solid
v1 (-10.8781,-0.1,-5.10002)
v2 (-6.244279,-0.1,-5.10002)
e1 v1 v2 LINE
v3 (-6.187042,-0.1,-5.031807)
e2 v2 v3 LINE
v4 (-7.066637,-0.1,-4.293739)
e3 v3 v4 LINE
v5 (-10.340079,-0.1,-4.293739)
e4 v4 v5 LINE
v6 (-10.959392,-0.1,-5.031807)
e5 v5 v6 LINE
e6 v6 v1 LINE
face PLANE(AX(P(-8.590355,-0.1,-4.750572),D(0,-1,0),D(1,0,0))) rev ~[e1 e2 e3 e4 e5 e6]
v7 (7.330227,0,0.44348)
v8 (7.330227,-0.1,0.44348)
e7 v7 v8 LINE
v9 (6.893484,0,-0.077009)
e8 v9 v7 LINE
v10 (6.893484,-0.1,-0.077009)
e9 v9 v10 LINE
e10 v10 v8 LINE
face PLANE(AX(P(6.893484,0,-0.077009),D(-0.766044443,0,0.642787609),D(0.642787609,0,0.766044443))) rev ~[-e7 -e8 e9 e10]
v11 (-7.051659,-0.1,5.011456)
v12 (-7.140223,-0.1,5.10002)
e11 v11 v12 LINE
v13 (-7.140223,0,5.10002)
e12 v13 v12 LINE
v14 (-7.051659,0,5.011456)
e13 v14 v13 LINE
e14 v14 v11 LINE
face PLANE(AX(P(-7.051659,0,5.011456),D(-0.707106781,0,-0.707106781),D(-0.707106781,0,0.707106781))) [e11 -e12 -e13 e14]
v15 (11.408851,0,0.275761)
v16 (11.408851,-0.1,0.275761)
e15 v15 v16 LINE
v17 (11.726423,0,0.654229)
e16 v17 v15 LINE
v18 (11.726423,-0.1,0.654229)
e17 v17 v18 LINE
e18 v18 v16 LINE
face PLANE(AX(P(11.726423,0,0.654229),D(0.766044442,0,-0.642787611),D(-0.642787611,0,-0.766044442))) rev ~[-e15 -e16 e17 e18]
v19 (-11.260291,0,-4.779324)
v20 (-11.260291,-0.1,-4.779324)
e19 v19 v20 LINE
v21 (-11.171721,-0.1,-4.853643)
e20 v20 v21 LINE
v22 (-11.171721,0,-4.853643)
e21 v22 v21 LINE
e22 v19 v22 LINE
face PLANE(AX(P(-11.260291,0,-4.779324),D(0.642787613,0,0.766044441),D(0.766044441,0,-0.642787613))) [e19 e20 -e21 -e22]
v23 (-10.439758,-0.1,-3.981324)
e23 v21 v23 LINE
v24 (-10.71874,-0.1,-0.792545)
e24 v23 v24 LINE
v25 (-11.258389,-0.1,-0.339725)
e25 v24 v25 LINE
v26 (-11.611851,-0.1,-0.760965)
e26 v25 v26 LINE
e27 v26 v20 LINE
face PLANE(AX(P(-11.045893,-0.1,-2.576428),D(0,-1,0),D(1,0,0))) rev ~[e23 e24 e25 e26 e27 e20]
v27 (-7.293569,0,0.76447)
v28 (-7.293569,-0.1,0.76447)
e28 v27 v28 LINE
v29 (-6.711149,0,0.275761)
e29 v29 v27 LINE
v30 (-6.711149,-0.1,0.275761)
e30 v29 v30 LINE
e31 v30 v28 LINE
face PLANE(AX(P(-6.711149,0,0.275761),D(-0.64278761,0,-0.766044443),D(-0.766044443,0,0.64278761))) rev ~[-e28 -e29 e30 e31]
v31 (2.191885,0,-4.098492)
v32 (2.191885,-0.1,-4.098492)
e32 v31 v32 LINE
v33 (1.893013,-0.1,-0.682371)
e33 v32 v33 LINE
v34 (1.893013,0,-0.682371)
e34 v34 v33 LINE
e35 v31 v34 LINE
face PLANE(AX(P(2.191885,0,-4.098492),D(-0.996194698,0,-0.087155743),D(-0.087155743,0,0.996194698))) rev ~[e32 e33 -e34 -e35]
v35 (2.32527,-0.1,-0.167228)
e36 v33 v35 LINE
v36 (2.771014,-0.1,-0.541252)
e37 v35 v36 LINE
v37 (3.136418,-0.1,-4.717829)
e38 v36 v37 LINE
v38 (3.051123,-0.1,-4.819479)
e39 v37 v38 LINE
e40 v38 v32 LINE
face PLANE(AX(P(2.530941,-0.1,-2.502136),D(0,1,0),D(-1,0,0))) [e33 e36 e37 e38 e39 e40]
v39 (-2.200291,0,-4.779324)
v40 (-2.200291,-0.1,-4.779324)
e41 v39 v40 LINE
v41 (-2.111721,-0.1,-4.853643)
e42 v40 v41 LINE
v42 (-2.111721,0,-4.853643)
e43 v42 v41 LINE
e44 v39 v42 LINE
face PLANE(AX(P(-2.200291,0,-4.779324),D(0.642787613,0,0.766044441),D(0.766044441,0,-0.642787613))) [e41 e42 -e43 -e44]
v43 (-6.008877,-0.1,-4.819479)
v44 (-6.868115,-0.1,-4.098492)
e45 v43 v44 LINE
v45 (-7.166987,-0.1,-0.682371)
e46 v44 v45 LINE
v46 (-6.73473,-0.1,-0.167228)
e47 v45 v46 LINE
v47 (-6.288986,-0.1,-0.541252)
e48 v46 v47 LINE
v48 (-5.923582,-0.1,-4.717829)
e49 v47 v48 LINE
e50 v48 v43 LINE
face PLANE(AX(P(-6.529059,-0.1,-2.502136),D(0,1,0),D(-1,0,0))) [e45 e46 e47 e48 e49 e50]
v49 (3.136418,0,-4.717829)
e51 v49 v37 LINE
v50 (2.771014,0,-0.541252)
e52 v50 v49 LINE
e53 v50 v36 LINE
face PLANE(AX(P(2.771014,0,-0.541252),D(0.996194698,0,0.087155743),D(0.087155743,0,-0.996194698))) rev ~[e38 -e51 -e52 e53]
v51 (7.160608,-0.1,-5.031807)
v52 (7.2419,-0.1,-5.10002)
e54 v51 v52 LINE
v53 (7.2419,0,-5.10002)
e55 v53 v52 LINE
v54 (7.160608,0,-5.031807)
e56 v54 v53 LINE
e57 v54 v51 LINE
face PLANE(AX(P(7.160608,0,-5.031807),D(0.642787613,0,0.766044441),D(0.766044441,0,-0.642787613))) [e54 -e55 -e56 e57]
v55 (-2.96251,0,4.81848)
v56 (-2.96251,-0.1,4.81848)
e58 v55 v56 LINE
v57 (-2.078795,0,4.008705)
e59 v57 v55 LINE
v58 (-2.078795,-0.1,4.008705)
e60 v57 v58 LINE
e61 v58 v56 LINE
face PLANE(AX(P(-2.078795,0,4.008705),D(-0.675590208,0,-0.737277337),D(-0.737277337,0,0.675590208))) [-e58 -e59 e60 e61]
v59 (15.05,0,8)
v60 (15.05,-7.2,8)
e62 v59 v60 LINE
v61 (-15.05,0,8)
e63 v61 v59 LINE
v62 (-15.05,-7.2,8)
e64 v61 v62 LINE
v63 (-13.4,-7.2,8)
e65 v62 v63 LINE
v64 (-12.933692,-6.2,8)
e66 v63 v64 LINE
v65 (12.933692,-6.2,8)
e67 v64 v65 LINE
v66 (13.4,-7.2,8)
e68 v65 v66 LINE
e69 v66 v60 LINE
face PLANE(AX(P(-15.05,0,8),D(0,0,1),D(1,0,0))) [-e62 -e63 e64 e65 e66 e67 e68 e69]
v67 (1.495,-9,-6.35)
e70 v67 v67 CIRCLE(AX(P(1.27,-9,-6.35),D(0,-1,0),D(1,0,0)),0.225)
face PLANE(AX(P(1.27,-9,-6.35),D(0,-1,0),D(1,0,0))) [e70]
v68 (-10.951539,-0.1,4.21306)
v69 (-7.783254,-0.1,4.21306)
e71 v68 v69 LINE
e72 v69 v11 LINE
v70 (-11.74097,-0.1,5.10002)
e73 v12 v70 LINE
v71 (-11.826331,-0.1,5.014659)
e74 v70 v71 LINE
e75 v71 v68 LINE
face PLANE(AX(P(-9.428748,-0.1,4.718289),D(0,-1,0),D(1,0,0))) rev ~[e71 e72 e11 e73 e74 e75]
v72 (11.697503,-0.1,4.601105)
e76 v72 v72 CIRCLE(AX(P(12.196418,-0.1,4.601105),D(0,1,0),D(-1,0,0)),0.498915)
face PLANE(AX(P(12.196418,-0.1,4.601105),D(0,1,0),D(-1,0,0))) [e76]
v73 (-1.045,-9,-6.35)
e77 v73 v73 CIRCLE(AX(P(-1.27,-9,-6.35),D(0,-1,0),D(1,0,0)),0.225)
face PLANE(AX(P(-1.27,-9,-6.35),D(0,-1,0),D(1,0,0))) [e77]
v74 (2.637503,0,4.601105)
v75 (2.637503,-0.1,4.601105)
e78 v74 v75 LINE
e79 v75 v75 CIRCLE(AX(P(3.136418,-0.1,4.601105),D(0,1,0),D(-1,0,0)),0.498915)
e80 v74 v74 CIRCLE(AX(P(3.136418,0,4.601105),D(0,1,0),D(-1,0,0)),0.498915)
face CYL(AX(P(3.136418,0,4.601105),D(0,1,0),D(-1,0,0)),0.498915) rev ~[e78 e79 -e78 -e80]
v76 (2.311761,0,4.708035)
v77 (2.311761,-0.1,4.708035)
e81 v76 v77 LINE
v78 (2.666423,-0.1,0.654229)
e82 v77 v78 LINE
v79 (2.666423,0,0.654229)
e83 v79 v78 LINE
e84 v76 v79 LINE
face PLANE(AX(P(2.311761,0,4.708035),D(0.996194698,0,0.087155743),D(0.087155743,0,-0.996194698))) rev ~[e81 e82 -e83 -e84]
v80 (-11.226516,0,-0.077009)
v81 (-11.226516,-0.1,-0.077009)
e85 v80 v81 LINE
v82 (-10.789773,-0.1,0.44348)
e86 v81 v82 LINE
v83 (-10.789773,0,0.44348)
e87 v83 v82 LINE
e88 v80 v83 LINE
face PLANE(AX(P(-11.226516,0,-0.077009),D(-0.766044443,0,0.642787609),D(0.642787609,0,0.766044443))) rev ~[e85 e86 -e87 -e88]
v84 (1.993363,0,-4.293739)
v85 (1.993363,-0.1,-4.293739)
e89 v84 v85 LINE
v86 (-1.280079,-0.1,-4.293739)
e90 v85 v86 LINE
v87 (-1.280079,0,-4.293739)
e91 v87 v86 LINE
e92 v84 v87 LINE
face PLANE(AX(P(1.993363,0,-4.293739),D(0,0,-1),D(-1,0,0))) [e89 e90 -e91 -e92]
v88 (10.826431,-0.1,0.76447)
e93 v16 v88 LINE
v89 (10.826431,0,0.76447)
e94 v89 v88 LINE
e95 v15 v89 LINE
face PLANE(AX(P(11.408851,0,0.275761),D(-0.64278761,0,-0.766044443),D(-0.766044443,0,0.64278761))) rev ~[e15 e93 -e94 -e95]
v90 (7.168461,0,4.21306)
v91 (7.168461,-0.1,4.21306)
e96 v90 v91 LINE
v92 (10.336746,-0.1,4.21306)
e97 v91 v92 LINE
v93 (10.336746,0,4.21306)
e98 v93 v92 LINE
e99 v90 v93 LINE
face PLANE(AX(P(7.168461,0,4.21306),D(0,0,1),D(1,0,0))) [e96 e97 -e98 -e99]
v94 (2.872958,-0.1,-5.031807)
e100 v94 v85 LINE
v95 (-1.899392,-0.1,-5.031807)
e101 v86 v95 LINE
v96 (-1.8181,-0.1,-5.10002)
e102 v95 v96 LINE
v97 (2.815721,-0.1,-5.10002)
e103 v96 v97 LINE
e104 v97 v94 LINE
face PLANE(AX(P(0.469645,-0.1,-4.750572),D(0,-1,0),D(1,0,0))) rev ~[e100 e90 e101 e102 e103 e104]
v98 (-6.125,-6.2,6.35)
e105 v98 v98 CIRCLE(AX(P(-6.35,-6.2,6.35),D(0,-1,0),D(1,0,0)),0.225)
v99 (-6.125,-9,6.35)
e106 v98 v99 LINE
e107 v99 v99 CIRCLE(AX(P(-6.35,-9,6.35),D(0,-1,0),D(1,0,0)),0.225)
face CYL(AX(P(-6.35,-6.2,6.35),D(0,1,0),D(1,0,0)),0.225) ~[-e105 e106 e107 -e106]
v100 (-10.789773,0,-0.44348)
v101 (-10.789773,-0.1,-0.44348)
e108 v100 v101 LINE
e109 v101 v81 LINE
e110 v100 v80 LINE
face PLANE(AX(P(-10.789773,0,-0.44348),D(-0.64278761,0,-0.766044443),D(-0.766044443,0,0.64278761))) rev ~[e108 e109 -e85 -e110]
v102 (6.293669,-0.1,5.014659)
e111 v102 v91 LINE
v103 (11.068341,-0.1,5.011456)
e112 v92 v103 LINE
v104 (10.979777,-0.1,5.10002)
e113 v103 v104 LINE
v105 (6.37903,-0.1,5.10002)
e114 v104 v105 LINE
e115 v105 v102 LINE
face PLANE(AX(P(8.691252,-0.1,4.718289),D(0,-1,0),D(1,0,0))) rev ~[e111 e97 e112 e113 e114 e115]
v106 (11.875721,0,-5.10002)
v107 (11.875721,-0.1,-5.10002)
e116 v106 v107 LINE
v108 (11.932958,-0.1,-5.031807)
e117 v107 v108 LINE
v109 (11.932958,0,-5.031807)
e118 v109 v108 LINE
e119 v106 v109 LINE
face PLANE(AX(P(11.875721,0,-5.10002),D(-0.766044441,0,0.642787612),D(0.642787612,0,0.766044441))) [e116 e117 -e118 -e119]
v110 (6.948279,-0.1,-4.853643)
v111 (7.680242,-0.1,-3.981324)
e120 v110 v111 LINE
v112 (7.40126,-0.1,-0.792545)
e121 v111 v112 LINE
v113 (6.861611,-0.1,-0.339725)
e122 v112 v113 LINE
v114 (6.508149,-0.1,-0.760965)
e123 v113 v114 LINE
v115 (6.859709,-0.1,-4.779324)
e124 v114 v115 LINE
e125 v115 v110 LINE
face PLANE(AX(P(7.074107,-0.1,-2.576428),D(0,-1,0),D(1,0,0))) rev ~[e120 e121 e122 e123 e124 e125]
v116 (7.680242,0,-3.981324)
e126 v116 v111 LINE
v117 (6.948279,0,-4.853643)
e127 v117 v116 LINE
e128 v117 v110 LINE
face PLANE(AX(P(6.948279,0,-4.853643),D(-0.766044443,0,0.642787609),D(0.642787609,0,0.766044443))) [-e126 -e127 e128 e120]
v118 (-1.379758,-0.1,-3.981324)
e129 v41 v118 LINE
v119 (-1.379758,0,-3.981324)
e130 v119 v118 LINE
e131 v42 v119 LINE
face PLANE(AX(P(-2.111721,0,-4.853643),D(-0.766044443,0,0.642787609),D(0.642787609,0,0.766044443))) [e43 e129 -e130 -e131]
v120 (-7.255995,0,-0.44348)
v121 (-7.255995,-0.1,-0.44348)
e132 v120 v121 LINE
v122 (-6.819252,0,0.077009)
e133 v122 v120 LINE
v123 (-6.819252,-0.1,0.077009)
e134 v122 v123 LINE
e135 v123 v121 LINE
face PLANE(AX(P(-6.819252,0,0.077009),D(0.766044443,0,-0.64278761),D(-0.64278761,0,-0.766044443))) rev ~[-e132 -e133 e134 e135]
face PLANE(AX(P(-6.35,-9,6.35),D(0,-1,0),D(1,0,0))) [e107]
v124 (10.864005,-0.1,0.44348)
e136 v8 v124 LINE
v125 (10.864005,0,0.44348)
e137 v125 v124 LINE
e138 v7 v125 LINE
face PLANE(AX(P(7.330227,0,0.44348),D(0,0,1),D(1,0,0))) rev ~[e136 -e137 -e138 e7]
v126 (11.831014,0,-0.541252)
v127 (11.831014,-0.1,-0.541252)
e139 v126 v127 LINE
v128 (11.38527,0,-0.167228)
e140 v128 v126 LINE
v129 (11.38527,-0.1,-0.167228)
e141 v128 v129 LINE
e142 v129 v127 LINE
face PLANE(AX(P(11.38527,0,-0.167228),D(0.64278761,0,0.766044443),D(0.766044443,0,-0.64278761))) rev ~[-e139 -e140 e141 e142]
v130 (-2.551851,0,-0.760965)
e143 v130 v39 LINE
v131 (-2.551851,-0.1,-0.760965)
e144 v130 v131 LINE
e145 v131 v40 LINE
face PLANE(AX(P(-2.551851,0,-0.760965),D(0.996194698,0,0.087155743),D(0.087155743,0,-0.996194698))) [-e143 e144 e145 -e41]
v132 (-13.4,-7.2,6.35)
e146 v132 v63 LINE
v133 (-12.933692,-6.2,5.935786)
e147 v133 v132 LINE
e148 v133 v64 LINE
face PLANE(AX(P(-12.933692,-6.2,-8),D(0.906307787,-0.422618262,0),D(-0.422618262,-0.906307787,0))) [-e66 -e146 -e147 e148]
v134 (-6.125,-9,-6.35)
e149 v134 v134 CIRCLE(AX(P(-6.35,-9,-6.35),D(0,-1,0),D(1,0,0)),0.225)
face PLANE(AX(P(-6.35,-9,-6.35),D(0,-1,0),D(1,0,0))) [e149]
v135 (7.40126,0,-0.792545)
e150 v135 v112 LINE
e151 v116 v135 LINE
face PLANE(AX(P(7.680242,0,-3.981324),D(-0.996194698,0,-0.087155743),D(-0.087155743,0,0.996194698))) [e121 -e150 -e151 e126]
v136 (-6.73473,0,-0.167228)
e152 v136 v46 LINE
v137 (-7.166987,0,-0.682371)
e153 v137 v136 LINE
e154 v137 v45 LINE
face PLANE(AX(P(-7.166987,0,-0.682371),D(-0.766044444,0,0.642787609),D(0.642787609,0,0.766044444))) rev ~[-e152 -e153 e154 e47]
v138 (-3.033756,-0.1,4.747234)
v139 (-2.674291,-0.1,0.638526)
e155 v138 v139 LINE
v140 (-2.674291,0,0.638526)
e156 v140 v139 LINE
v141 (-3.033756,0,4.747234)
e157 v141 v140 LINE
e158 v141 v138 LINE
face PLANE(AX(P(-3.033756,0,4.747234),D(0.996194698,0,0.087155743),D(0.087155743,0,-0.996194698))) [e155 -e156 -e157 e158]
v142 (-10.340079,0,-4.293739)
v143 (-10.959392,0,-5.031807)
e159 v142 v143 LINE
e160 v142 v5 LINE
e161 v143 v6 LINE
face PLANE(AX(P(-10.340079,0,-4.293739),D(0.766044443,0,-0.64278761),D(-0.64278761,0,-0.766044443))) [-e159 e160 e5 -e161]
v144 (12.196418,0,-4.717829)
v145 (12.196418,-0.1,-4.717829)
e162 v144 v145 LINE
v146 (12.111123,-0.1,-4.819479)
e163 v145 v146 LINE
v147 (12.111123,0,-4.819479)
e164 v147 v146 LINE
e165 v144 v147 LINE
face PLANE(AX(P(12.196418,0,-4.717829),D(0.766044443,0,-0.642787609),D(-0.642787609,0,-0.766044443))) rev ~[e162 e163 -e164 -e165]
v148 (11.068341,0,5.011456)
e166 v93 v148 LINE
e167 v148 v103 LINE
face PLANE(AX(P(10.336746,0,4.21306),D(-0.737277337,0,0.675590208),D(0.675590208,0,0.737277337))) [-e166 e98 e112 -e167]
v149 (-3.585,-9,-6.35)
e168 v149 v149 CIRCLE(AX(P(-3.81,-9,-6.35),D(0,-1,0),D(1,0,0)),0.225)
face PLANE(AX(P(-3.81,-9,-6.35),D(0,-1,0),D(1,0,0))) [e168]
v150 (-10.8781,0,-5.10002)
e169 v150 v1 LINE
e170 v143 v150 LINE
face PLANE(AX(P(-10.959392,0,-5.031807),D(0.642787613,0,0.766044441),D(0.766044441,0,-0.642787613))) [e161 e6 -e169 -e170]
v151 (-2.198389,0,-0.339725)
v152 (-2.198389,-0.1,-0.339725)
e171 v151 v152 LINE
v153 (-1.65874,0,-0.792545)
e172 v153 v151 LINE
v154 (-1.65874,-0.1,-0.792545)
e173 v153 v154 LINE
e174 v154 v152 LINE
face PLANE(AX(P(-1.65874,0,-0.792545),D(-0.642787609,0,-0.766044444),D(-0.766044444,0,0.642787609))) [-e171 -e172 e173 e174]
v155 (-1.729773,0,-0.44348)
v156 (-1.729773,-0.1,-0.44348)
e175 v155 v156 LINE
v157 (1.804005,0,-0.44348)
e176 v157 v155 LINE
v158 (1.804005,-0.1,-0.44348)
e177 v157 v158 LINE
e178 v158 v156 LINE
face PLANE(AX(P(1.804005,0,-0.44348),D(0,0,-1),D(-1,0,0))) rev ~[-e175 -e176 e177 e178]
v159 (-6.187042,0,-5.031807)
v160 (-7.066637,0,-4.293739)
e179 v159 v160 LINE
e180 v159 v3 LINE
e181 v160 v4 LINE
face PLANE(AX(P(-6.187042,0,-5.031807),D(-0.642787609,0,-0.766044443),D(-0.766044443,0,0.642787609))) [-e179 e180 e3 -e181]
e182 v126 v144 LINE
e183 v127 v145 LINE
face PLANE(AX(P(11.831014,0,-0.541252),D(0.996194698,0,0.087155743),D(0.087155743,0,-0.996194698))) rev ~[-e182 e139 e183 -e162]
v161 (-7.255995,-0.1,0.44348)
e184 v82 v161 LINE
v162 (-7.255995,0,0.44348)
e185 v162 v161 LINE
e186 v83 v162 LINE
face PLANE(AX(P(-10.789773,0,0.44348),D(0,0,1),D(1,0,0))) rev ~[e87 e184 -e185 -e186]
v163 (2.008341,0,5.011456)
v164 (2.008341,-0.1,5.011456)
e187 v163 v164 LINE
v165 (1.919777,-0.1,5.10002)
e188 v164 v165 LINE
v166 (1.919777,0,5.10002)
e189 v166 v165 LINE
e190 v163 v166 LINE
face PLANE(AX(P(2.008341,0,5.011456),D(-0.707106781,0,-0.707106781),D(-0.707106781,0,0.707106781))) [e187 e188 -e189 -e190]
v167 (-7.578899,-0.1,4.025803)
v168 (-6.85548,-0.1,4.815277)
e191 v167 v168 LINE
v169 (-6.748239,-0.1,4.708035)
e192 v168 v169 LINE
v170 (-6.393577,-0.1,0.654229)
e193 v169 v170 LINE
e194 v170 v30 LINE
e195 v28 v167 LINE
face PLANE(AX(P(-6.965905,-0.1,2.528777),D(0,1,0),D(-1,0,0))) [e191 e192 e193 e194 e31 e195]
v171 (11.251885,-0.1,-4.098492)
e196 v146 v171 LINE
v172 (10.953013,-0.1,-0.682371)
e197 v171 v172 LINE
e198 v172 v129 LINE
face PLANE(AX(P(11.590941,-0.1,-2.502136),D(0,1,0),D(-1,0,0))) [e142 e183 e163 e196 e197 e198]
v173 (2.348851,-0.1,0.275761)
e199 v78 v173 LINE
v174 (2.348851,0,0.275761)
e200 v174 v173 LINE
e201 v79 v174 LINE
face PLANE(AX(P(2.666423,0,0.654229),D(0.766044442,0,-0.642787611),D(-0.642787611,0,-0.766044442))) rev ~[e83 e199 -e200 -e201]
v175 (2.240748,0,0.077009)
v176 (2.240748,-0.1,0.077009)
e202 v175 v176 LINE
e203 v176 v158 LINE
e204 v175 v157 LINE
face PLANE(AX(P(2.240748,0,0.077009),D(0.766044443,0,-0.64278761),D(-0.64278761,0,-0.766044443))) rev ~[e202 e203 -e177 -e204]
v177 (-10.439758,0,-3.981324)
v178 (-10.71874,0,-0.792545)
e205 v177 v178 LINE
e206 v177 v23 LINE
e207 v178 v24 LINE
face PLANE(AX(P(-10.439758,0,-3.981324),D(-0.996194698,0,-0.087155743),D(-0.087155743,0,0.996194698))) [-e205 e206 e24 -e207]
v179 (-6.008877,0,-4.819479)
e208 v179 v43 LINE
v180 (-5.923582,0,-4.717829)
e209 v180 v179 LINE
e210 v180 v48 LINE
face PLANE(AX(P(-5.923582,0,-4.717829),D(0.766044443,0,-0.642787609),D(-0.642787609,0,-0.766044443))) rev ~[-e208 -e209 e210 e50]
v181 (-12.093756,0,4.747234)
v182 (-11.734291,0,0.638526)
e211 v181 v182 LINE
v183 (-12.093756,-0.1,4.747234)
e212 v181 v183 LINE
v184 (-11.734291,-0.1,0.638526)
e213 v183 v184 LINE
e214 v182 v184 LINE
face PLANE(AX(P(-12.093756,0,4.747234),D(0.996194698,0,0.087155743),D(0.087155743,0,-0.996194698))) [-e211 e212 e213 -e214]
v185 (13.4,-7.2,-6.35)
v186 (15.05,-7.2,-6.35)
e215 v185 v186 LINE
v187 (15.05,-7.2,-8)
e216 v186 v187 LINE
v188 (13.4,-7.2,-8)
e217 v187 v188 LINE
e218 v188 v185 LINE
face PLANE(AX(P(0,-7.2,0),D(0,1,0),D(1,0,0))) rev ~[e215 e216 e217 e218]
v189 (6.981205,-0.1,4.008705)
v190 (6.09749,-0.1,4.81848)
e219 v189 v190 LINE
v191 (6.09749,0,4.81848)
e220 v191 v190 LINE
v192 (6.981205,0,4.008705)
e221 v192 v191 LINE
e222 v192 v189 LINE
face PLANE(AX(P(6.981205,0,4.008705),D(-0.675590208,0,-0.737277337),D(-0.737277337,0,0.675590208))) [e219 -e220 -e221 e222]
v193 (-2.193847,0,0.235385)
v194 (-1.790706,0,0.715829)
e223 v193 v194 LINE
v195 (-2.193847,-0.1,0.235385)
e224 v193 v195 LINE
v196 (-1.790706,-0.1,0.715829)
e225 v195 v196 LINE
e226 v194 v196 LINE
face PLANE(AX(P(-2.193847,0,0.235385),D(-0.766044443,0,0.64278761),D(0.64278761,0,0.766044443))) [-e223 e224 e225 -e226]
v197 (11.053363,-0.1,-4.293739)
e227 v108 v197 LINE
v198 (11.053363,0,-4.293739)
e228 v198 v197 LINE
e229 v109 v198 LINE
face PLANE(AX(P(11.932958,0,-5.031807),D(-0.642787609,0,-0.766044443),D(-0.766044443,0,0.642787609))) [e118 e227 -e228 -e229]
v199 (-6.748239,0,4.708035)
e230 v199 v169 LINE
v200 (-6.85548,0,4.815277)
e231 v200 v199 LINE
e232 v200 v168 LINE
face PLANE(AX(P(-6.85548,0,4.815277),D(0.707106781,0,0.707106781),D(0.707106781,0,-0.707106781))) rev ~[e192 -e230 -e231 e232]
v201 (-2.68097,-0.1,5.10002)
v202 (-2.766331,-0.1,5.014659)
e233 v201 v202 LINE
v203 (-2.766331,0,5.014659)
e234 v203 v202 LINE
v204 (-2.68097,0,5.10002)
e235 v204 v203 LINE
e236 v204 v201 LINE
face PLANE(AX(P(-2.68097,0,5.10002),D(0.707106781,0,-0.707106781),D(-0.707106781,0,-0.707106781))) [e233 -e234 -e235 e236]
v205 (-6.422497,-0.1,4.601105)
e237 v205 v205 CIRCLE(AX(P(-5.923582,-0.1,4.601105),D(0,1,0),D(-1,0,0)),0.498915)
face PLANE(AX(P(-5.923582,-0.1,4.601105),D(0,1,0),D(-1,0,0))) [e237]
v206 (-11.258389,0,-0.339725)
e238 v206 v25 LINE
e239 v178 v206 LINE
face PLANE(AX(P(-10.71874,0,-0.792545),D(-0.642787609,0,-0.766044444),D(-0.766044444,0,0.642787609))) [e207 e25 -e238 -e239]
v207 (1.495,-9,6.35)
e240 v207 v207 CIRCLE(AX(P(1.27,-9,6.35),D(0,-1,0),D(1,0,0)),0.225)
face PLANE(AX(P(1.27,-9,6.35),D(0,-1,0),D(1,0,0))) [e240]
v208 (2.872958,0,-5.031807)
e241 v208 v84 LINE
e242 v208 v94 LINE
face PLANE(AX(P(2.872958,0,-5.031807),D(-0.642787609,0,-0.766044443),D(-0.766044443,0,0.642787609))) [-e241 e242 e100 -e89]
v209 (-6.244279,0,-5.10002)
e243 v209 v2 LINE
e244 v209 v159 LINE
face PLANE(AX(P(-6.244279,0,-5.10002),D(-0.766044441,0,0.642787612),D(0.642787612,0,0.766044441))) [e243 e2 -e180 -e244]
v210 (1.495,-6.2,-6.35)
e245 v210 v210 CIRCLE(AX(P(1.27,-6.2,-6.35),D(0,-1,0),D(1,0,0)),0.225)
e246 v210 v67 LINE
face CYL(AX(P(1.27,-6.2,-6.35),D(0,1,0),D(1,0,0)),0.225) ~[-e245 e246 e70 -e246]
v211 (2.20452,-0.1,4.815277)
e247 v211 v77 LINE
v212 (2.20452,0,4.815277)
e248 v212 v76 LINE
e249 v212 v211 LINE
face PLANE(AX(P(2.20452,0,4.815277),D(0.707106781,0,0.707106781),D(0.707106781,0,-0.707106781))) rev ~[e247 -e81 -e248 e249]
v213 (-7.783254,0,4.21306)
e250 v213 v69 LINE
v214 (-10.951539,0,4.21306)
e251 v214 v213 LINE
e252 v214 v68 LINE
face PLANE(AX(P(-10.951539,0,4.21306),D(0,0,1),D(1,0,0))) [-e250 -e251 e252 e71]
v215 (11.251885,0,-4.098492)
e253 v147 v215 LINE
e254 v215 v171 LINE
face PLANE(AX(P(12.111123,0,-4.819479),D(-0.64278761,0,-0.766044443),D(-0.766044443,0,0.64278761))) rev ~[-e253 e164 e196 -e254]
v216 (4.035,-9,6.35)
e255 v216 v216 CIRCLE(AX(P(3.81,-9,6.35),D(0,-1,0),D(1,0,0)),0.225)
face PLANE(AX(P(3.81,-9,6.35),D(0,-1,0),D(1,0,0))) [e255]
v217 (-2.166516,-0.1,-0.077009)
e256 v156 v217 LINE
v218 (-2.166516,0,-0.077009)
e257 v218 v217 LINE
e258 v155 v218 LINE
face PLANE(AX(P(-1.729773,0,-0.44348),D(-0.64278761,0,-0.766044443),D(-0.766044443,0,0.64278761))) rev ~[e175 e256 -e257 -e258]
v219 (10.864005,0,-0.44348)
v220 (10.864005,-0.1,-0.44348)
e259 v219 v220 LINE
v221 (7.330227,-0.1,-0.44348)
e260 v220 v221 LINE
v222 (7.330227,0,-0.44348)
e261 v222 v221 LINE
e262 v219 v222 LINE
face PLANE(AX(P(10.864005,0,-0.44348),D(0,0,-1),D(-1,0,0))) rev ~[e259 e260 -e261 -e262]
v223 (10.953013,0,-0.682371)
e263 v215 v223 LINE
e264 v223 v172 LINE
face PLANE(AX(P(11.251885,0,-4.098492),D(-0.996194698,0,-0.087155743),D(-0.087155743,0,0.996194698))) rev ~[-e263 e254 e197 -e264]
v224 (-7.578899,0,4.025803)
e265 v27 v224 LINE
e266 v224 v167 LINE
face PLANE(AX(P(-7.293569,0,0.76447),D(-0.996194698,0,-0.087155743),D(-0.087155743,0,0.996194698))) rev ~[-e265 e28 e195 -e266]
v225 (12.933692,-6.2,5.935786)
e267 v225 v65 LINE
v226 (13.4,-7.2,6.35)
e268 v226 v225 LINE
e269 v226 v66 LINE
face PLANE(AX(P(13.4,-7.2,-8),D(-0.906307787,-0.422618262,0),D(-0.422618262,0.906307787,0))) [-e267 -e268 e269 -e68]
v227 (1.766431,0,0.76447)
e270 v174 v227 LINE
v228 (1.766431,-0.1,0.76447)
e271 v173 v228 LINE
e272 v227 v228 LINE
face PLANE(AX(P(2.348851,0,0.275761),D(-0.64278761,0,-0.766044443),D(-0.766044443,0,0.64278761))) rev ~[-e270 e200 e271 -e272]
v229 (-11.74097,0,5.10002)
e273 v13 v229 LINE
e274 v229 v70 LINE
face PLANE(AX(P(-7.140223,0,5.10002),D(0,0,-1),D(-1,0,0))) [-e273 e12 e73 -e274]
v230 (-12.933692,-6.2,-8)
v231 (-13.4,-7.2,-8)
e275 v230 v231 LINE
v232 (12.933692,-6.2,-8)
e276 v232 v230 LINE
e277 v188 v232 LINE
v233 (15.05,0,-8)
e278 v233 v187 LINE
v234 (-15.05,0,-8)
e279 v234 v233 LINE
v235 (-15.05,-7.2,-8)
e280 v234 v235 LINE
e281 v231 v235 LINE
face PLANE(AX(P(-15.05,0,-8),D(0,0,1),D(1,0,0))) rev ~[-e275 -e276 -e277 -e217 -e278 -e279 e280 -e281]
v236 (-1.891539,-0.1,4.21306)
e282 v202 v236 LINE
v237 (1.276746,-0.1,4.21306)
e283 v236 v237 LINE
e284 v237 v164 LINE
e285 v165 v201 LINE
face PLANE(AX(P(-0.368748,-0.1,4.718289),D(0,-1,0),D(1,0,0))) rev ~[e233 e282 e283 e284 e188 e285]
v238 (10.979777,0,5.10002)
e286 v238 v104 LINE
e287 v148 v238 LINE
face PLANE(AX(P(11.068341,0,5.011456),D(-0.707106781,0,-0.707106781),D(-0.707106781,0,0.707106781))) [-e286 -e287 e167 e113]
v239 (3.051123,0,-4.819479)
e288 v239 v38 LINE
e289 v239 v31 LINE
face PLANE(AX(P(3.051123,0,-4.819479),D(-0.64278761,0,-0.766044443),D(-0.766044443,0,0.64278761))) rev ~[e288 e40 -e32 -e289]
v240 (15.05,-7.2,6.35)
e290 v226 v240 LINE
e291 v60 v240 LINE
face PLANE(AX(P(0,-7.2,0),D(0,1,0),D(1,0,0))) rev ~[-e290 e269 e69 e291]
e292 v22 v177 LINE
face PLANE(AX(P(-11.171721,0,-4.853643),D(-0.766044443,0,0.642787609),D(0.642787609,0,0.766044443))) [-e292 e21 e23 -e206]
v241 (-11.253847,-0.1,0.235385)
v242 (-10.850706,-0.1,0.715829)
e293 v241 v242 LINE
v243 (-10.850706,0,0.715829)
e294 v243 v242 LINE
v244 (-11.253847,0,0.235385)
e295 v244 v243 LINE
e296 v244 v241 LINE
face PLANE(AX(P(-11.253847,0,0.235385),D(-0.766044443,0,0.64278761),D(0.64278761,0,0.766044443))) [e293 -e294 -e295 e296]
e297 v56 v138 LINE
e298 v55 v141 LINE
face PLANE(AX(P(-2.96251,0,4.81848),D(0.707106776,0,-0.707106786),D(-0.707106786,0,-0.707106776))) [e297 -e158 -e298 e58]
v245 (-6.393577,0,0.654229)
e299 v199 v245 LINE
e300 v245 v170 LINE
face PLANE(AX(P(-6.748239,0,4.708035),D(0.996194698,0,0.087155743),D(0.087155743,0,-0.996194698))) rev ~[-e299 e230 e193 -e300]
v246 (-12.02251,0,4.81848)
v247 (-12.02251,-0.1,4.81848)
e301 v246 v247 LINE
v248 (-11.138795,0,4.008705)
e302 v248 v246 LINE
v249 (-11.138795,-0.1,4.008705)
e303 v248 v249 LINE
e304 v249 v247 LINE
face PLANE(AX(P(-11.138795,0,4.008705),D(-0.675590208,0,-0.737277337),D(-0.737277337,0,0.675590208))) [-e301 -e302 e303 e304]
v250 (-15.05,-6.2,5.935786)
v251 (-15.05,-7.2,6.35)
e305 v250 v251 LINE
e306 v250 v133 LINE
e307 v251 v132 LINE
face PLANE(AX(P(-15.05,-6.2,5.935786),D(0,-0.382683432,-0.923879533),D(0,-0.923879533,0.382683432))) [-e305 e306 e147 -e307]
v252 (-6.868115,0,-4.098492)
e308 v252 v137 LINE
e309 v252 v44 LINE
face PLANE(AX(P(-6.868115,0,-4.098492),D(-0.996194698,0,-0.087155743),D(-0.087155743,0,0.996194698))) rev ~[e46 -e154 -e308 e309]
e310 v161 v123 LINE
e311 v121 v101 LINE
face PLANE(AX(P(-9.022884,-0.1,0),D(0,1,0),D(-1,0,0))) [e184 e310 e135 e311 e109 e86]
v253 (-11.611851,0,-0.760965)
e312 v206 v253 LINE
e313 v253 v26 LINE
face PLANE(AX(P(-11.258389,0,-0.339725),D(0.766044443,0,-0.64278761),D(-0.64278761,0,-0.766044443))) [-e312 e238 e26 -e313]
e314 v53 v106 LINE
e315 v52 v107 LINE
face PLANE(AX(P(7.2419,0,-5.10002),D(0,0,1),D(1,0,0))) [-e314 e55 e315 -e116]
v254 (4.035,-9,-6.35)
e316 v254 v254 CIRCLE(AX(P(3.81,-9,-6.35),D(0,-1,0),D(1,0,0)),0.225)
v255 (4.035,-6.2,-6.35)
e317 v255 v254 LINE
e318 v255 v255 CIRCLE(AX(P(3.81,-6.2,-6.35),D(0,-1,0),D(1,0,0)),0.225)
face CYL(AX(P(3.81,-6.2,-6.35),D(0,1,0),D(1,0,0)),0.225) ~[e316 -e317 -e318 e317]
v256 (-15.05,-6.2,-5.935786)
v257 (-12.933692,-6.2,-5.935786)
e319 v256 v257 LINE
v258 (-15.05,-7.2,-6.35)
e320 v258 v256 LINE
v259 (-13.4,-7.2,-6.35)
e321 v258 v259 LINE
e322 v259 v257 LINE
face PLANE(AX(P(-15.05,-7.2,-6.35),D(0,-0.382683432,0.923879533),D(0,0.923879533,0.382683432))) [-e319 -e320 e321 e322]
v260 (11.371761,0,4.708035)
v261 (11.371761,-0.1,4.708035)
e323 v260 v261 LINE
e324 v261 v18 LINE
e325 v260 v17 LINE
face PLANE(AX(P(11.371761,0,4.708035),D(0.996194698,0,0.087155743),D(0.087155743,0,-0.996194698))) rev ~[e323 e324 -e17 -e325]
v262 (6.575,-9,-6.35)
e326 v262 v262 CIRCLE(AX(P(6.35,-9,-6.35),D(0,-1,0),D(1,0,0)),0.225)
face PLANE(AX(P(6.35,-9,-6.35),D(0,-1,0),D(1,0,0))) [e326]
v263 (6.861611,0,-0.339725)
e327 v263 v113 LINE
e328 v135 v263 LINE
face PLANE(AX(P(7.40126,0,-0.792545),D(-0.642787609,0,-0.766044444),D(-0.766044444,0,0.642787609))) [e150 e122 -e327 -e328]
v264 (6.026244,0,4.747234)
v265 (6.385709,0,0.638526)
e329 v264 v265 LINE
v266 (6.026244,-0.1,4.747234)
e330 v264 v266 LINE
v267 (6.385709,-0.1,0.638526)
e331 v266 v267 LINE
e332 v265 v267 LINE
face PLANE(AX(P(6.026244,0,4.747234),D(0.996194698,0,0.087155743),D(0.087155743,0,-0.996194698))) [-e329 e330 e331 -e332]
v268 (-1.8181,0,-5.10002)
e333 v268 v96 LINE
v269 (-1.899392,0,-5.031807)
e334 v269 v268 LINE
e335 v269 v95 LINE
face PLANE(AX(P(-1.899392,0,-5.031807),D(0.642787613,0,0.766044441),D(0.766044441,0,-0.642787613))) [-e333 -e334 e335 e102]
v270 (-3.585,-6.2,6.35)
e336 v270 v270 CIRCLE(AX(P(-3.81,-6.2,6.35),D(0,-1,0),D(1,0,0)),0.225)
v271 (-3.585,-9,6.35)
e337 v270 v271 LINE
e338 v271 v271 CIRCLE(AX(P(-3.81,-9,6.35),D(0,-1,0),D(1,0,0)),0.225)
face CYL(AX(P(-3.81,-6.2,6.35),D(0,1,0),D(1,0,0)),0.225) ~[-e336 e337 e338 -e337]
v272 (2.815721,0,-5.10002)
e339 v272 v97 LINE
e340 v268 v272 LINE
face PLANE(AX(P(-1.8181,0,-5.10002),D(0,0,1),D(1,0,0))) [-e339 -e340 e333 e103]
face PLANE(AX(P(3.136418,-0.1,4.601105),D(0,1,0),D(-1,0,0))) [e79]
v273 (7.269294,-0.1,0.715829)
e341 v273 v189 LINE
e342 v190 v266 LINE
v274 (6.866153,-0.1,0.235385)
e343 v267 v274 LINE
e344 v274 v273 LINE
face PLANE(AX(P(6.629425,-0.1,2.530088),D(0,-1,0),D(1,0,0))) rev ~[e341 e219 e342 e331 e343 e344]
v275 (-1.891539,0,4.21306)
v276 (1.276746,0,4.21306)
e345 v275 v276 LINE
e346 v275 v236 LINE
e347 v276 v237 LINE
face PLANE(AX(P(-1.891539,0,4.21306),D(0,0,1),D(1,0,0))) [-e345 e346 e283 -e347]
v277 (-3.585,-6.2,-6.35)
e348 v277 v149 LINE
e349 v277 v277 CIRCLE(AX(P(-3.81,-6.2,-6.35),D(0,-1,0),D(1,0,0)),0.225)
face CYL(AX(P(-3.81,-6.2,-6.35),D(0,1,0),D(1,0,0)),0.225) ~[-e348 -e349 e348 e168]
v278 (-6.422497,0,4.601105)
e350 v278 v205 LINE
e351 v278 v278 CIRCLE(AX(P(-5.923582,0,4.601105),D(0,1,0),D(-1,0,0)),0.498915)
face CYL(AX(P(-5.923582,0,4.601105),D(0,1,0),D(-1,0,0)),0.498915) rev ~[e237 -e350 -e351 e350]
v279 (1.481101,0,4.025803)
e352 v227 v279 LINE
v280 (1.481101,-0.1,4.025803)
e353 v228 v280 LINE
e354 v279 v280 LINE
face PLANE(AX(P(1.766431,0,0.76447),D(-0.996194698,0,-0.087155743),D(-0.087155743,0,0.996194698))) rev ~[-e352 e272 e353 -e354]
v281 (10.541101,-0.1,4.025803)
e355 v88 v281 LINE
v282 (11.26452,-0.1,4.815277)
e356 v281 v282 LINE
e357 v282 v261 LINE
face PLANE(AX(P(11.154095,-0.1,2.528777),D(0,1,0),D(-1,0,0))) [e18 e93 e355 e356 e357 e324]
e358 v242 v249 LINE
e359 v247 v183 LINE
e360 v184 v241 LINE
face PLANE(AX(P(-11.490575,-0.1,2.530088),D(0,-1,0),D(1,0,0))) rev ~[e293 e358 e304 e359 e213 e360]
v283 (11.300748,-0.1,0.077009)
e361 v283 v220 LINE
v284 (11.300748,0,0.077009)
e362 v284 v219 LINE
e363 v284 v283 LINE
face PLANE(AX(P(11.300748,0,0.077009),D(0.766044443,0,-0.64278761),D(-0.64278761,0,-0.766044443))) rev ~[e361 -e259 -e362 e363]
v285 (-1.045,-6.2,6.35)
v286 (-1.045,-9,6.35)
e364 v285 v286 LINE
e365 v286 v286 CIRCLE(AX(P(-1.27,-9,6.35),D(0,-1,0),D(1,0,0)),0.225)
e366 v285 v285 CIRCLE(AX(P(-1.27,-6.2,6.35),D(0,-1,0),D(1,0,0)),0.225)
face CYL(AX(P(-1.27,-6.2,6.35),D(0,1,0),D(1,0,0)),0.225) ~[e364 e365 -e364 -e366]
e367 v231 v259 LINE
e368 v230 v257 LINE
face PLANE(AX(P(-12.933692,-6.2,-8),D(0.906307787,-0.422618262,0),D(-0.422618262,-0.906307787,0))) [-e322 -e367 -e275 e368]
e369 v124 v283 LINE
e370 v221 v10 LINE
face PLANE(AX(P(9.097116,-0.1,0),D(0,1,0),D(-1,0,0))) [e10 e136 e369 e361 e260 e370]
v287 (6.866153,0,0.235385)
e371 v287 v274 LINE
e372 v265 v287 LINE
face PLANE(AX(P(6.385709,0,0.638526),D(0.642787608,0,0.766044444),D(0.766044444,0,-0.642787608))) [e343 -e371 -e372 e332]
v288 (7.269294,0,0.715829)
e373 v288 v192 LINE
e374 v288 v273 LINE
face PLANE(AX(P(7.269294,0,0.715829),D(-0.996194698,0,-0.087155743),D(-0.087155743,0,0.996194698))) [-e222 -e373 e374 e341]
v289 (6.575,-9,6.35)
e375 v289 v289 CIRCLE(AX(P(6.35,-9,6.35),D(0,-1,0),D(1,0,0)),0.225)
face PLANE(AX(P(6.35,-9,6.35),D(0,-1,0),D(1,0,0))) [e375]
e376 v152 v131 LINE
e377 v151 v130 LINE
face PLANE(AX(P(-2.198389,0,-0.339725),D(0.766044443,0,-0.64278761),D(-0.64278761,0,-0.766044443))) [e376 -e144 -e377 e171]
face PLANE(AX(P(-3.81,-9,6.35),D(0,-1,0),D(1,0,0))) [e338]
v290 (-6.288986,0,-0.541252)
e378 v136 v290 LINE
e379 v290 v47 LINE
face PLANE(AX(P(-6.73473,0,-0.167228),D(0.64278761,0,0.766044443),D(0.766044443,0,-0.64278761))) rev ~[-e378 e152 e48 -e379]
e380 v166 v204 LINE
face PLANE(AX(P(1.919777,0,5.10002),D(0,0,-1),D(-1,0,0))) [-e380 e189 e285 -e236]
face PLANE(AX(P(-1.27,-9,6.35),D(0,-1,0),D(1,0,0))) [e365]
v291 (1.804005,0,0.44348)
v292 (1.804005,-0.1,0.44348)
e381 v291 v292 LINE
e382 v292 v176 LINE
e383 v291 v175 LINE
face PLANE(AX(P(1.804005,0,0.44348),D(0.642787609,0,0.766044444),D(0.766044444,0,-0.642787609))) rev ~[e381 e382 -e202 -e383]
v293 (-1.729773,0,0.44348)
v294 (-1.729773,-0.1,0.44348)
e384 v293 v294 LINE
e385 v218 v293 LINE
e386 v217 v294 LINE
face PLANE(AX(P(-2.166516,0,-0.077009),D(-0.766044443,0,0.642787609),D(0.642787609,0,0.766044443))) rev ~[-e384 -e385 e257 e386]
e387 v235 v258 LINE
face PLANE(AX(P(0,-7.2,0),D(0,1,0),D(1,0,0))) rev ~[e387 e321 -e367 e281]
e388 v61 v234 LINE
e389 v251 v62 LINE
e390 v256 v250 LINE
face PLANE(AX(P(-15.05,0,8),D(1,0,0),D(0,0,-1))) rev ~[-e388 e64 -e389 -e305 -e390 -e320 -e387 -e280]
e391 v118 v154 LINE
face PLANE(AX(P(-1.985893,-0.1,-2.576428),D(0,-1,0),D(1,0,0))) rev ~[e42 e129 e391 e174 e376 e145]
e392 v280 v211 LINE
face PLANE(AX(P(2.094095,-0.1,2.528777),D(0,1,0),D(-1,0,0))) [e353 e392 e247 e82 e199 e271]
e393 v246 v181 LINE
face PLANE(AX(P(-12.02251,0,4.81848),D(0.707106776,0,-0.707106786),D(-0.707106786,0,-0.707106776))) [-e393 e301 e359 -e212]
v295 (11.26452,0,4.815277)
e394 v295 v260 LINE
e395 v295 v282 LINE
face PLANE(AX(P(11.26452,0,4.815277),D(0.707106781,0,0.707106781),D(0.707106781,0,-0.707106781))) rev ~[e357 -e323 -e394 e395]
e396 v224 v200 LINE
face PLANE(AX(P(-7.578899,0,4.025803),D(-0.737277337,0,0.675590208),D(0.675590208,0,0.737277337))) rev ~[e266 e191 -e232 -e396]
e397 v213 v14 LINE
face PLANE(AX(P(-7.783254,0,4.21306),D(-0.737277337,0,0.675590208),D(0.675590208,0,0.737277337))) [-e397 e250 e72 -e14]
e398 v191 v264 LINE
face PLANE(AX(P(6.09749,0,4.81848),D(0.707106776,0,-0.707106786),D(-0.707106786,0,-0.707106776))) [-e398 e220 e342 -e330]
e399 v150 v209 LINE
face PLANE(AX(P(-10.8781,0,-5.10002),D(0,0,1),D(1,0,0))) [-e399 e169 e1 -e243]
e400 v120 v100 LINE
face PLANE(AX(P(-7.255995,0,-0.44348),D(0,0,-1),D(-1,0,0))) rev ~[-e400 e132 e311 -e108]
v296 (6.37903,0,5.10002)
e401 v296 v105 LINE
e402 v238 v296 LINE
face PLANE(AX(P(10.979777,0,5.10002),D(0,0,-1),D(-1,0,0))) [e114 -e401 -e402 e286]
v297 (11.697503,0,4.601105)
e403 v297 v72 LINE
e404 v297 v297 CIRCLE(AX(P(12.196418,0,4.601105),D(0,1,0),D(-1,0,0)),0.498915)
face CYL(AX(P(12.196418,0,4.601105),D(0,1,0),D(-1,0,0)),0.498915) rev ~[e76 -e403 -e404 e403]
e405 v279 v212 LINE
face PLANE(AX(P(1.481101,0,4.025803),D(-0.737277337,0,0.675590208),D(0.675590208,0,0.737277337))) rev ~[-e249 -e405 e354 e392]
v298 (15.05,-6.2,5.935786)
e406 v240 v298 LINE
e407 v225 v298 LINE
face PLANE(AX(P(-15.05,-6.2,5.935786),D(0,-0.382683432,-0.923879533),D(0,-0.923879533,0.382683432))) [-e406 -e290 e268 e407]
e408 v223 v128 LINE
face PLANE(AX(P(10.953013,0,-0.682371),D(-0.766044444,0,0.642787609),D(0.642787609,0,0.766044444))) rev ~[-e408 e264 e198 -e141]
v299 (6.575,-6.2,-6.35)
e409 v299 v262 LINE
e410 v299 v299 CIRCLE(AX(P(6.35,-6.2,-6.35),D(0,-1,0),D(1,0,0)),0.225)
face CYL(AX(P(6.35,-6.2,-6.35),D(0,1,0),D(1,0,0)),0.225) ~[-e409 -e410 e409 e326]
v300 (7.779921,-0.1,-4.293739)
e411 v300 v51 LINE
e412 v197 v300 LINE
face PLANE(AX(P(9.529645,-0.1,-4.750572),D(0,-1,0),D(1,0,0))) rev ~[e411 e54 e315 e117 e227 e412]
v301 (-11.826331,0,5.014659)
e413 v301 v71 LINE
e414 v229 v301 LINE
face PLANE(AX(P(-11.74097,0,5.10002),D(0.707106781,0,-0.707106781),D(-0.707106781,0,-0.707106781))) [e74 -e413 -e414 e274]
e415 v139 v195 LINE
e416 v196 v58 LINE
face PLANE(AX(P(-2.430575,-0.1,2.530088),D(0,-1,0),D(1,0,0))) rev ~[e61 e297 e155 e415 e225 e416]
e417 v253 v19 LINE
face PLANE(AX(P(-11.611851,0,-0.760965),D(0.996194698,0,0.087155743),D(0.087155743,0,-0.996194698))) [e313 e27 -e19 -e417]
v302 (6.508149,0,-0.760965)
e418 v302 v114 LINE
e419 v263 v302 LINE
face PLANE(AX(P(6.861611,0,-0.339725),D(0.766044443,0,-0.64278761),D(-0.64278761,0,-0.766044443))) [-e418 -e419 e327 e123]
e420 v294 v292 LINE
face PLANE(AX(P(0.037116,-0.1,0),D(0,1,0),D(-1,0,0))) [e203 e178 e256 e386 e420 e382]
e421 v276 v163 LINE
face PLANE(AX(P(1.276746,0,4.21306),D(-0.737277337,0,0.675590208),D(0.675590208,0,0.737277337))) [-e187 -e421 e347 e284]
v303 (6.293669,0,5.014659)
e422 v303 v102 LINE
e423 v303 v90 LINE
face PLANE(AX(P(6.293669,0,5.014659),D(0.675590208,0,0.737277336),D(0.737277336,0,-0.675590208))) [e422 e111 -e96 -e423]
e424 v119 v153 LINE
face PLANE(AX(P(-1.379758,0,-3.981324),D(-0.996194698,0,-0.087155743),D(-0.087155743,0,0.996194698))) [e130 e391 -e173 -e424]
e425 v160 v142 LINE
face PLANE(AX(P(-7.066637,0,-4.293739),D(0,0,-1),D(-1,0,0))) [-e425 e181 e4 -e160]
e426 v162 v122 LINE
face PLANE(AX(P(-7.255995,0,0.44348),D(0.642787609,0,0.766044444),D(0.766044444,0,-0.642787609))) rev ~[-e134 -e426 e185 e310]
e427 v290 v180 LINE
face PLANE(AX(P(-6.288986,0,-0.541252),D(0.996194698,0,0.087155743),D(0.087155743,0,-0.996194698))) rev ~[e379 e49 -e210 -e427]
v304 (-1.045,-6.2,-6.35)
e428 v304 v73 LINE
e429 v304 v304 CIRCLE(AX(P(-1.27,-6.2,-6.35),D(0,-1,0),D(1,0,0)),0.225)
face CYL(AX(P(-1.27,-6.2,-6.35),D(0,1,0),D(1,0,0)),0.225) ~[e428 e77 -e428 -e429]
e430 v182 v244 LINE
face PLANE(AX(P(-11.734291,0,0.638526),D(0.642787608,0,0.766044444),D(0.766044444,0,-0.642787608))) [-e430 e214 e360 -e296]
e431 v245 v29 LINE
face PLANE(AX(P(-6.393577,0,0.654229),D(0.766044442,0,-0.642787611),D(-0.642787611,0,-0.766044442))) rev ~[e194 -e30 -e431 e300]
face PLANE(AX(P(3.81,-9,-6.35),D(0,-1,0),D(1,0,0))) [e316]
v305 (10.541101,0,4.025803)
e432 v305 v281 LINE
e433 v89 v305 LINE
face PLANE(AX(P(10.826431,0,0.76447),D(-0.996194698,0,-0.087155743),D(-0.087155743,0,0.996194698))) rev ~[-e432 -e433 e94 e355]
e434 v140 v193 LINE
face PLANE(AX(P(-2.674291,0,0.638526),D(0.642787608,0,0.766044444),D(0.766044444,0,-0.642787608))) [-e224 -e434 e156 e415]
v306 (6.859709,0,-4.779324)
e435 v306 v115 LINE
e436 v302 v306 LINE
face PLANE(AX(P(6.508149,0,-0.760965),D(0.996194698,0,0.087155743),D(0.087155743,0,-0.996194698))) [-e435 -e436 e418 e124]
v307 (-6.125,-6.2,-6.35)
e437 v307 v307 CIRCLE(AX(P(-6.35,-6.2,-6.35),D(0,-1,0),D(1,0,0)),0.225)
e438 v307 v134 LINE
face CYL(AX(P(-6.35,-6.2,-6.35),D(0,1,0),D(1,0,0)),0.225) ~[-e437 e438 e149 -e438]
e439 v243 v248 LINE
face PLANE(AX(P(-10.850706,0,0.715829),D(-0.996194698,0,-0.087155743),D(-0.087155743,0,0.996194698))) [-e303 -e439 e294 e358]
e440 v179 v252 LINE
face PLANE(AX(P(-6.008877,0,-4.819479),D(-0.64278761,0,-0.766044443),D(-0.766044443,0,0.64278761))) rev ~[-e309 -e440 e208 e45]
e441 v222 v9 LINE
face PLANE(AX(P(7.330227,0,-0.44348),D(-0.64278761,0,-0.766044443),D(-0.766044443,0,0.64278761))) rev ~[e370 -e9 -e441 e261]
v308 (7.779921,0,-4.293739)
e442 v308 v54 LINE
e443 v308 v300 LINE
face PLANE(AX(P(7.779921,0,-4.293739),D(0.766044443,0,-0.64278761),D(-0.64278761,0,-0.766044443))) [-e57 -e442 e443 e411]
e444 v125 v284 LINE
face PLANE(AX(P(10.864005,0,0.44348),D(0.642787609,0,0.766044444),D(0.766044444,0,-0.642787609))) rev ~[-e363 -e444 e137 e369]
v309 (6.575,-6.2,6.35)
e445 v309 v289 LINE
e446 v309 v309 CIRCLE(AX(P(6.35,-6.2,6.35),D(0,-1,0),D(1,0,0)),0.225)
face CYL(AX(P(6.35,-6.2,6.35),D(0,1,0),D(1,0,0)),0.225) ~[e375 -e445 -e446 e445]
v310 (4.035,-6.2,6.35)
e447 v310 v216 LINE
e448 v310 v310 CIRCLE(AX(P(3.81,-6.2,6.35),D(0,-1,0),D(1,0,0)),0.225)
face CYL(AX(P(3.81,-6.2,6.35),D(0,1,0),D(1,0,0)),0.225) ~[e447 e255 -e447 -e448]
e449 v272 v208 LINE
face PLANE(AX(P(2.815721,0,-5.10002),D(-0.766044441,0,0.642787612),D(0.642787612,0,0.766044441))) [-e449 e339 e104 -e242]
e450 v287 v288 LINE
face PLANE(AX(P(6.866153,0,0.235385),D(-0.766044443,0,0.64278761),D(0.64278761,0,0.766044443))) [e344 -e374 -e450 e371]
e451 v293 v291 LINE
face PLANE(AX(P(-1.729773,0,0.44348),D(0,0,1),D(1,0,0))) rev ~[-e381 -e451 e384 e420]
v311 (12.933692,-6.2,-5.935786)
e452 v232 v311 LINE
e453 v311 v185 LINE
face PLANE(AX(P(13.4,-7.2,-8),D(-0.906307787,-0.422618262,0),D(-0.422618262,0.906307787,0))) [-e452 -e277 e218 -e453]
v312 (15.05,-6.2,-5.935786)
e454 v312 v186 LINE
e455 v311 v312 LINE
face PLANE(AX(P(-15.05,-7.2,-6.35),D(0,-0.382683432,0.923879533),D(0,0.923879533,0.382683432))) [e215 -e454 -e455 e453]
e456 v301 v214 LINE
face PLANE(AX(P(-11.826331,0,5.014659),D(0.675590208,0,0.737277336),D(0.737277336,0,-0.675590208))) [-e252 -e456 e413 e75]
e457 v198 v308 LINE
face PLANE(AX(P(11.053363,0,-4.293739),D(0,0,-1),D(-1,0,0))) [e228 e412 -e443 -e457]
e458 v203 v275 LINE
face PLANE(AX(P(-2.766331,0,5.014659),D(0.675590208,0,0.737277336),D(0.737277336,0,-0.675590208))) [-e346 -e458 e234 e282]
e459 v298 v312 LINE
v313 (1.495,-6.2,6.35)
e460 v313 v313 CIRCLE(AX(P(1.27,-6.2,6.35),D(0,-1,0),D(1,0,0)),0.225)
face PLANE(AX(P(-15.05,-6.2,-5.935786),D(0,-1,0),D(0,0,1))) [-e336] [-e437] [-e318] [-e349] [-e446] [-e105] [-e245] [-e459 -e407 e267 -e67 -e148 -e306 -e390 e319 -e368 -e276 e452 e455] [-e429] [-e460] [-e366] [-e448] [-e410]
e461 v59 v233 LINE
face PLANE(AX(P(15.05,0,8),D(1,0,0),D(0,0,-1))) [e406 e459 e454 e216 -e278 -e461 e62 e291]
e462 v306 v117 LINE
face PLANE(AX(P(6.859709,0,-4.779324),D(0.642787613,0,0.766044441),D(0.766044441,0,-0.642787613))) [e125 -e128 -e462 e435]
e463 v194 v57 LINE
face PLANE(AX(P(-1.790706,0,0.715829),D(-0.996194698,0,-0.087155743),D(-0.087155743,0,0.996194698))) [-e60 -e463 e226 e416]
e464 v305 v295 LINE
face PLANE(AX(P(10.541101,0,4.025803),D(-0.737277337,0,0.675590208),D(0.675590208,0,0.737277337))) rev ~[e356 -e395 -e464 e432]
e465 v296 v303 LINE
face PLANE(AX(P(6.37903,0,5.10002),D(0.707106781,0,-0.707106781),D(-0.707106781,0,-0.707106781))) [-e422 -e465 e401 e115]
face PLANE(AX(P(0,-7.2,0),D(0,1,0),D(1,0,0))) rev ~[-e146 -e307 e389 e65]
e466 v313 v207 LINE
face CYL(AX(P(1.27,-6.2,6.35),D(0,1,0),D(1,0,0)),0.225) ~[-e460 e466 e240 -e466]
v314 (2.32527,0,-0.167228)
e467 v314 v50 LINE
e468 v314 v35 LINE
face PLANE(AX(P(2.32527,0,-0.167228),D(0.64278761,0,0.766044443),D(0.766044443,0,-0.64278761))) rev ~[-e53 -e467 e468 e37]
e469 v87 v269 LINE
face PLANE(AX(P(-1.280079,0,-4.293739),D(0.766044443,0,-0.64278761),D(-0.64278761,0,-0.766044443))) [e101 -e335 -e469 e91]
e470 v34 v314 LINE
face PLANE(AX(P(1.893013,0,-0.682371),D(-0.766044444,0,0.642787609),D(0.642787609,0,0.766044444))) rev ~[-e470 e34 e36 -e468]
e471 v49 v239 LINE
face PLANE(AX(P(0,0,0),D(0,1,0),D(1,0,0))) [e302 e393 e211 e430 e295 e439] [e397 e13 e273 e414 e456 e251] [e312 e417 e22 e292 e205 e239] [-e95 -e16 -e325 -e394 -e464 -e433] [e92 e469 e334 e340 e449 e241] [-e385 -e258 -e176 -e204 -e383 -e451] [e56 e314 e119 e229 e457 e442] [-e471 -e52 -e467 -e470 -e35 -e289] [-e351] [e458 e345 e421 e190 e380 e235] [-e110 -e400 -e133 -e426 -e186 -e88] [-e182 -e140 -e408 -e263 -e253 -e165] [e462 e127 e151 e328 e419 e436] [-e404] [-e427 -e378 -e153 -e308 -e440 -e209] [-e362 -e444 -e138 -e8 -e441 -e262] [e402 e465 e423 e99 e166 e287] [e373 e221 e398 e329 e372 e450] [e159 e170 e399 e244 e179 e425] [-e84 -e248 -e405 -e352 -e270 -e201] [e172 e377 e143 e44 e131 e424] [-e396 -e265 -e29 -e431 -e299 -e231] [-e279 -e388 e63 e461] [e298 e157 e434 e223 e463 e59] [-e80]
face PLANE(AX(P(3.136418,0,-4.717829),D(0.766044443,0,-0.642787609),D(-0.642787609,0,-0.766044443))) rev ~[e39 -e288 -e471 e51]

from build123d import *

# Parameters (mm, degrees)
SKETCH1_W               = 30.1
SKETCH1_H               = 16
EXTRUDE1_DEPTH          = 7.2
SKETCH6_R               = 0.498915
CUT_EXTRUDE1_DEPTH      = 0.1
CUT_EXTRUDE2_DEPTH      = 1
CUT_EXTRUDE2_DEPTH_BACK = 31.1
CUT_EXTRUDE3_DEPTH      = 1
CUT_EXTRUDE3_DEPTH_BACK = 17
LPATTERN1_COUNT         = 2
LPATTERN1_PITCH         = 9.06
LPATTERN2_COUNT         = 2
LPATTERN2_PITCH         = 9.06
BOSS_EXTRUDE4_START     = -1
SKETCH11_R              = 0.225
BOSS_EXTRUDE4_DEPTH     = 2.8
LPATTERN3_COUNT         = 6
LPATTERN3_PITCH         = 2.54
LPATTERN3_COUNT_DIR2    = 2
LPATTERN3_PITCH_DIR2    = 12.7


with BuildPart() as part:
    # Sketch1 → Extrude1 (new body)
    with BuildSketch(Plane(origin=(0, 0, 0), x_dir=(1, 0, 0), z_dir=(0, 1, 0))):
        Rectangle(SKETCH1_W, SKETCH1_H)
    extrude(amount=-EXTRUDE1_DEPTH)

    # Sketch6 → Cut-Extrude1 (cut)
    with BuildSketch(Plane(origin=(0, 0, 0), x_dir=(-1, 0, 0), z_dir=(0, 1, 0))):
        with Locations((-3.136417605, 4.601105)):
            Circle(SKETCH6_R)
        Polygon((1.899392179, -5.031807345), (1.818099503, -5.10002), (-2.815721224, -5.10002), (-2.872958438, -5.031807345), (-1.993362607, -4.293738808), (1.280079142, -4.293738808), align=None)
        Polygon((-2.771014452, -0.541251787), (-3.136417605, -4.717828937), (-3.051123094, -4.819478977), (-2.191884627, -4.098492296), (-1.893012763, -0.682371264), (-2.325269688, -0.16722752), align=None)
        Polygon((1.729773181, 0.44348), (-1.804005322, 0.44348), (-2.240747865, 0.077009494), (-1.804005322, -0.44348), (1.729773181, -0.44348), (2.166515723, -0.077009494), align=None)
        Polygon((1.379758426, -3.981324201), (1.658740499, -0.792544509), (2.198389312, -0.33972539), (2.551851384, -0.760965084), (2.200290566, -4.77932362), (2.111720548, -4.85364269), align=None)
        Polygon((-1.276746018, 4.21306), (-2.008340937, 5.011455754), (-1.919776691, 5.10002), (2.680970165, 5.10002), (2.766330848, 5.014659317), (1.8915387, 4.21306), align=None)
        Polygon((-1.481100864, 4.025803284), (-2.204519978, 4.815276713), (-2.311761335, 4.708035356), (-2.66642341, 0.654229291), (-2.348850987, 0.275761216), (-1.766430556, 0.764469985), align=None)
        Polygon((2.078795416, 4.008705154), (2.962509889, 4.818480275), (3.033756345, 4.74723382), (2.674290947, 0.638525521), (2.193846693, 0.235384926), (1.790706097, 0.715829179), align=None)
    cut_extrude1 = extrude(amount=-CUT_EXTRUDE1_DEPTH, mode=Mode.SUBTRACT)

    # Sketch12 → Cut-Extrude2 (cut, two sides)
    with BuildSketch(Plane.ZY.offset(15.05)) as cut_extrude2_sk:
        Polygon((-22.464786823, -46.104536903), (-6.35, -7.2), (-5.935786438, -6.2), (5.935786438, -6.2), (6.35, -7.2), (22.464786823, -46.104536903), (22.464786823, -130.324471503), (-22.464786823, -130.324471503), align=None)
    extrude(amount=CUT_EXTRUDE2_DEPTH, mode=Mode.SUBTRACT)
    extrude(cut_extrude2_sk.sketch, amount=-CUT_EXTRUDE2_DEPTH_BACK, mode=Mode.SUBTRACT)

    # Sketch13 → Cut-Extrude3 (cut, two sides)
    with BuildSketch(Plane(origin=(0, 0, -8), x_dir=(-1, 0, 0), z_dir=(0, 0, -1))) as cut_extrude3_sk:
        Polygon((-42.431282579, -69.457786403), (-13.4, -7.2), (-12.933692342, -6.2), (12.933692342, -6.2), (13.4, -7.2), (42.431282579, -69.457786403), (42.431282579, -206.845520004), (-42.431282579, -206.845520004), align=None)
    extrude(amount=CUT_EXTRUDE3_DEPTH, mode=Mode.SUBTRACT)
    extrude(cut_extrude3_sk.sketch, amount=-CUT_EXTRUDE3_DEPTH_BACK, mode=Mode.SUBTRACT)

    # LPattern1: Cut-Extrude1 ×2
    with Locations(*[(i * LPATTERN1_PITCH, 0, 0) for i in range(1, LPATTERN1_COUNT)]):
        add(cut_extrude1, mode=Mode.SUBTRACT)

    # LPattern2: Cut-Extrude1 ×2
    with Locations(*[(-i * LPATTERN2_PITCH, 0, 0) for i in range(1, LPATTERN2_COUNT)]):
        add(cut_extrude1, mode=Mode.SUBTRACT)

    # Sketch11 → Boss-Extrude4 (add)
    with BuildSketch(Plane.XZ.offset(7.2).offset(BOSS_EXTRUDE4_START)):
        with Locations((6.35, 6.35)):
            Circle(SKETCH11_R)
    boss_extrude4 = extrude(amount=BOSS_EXTRUDE4_DEPTH)

    # LPattern3: Boss-Extrude4 6 × 2
    with Locations(*[(-i * LPATTERN3_PITCH, 0, -j * LPATTERN3_PITCH_DIR2) for i in range(LPATTERN3_COUNT) for j in range(LPATTERN3_COUNT_DIR2) if (i, j) != (0, 0)]):
        add(boss_extrude4)


solid = part.part
